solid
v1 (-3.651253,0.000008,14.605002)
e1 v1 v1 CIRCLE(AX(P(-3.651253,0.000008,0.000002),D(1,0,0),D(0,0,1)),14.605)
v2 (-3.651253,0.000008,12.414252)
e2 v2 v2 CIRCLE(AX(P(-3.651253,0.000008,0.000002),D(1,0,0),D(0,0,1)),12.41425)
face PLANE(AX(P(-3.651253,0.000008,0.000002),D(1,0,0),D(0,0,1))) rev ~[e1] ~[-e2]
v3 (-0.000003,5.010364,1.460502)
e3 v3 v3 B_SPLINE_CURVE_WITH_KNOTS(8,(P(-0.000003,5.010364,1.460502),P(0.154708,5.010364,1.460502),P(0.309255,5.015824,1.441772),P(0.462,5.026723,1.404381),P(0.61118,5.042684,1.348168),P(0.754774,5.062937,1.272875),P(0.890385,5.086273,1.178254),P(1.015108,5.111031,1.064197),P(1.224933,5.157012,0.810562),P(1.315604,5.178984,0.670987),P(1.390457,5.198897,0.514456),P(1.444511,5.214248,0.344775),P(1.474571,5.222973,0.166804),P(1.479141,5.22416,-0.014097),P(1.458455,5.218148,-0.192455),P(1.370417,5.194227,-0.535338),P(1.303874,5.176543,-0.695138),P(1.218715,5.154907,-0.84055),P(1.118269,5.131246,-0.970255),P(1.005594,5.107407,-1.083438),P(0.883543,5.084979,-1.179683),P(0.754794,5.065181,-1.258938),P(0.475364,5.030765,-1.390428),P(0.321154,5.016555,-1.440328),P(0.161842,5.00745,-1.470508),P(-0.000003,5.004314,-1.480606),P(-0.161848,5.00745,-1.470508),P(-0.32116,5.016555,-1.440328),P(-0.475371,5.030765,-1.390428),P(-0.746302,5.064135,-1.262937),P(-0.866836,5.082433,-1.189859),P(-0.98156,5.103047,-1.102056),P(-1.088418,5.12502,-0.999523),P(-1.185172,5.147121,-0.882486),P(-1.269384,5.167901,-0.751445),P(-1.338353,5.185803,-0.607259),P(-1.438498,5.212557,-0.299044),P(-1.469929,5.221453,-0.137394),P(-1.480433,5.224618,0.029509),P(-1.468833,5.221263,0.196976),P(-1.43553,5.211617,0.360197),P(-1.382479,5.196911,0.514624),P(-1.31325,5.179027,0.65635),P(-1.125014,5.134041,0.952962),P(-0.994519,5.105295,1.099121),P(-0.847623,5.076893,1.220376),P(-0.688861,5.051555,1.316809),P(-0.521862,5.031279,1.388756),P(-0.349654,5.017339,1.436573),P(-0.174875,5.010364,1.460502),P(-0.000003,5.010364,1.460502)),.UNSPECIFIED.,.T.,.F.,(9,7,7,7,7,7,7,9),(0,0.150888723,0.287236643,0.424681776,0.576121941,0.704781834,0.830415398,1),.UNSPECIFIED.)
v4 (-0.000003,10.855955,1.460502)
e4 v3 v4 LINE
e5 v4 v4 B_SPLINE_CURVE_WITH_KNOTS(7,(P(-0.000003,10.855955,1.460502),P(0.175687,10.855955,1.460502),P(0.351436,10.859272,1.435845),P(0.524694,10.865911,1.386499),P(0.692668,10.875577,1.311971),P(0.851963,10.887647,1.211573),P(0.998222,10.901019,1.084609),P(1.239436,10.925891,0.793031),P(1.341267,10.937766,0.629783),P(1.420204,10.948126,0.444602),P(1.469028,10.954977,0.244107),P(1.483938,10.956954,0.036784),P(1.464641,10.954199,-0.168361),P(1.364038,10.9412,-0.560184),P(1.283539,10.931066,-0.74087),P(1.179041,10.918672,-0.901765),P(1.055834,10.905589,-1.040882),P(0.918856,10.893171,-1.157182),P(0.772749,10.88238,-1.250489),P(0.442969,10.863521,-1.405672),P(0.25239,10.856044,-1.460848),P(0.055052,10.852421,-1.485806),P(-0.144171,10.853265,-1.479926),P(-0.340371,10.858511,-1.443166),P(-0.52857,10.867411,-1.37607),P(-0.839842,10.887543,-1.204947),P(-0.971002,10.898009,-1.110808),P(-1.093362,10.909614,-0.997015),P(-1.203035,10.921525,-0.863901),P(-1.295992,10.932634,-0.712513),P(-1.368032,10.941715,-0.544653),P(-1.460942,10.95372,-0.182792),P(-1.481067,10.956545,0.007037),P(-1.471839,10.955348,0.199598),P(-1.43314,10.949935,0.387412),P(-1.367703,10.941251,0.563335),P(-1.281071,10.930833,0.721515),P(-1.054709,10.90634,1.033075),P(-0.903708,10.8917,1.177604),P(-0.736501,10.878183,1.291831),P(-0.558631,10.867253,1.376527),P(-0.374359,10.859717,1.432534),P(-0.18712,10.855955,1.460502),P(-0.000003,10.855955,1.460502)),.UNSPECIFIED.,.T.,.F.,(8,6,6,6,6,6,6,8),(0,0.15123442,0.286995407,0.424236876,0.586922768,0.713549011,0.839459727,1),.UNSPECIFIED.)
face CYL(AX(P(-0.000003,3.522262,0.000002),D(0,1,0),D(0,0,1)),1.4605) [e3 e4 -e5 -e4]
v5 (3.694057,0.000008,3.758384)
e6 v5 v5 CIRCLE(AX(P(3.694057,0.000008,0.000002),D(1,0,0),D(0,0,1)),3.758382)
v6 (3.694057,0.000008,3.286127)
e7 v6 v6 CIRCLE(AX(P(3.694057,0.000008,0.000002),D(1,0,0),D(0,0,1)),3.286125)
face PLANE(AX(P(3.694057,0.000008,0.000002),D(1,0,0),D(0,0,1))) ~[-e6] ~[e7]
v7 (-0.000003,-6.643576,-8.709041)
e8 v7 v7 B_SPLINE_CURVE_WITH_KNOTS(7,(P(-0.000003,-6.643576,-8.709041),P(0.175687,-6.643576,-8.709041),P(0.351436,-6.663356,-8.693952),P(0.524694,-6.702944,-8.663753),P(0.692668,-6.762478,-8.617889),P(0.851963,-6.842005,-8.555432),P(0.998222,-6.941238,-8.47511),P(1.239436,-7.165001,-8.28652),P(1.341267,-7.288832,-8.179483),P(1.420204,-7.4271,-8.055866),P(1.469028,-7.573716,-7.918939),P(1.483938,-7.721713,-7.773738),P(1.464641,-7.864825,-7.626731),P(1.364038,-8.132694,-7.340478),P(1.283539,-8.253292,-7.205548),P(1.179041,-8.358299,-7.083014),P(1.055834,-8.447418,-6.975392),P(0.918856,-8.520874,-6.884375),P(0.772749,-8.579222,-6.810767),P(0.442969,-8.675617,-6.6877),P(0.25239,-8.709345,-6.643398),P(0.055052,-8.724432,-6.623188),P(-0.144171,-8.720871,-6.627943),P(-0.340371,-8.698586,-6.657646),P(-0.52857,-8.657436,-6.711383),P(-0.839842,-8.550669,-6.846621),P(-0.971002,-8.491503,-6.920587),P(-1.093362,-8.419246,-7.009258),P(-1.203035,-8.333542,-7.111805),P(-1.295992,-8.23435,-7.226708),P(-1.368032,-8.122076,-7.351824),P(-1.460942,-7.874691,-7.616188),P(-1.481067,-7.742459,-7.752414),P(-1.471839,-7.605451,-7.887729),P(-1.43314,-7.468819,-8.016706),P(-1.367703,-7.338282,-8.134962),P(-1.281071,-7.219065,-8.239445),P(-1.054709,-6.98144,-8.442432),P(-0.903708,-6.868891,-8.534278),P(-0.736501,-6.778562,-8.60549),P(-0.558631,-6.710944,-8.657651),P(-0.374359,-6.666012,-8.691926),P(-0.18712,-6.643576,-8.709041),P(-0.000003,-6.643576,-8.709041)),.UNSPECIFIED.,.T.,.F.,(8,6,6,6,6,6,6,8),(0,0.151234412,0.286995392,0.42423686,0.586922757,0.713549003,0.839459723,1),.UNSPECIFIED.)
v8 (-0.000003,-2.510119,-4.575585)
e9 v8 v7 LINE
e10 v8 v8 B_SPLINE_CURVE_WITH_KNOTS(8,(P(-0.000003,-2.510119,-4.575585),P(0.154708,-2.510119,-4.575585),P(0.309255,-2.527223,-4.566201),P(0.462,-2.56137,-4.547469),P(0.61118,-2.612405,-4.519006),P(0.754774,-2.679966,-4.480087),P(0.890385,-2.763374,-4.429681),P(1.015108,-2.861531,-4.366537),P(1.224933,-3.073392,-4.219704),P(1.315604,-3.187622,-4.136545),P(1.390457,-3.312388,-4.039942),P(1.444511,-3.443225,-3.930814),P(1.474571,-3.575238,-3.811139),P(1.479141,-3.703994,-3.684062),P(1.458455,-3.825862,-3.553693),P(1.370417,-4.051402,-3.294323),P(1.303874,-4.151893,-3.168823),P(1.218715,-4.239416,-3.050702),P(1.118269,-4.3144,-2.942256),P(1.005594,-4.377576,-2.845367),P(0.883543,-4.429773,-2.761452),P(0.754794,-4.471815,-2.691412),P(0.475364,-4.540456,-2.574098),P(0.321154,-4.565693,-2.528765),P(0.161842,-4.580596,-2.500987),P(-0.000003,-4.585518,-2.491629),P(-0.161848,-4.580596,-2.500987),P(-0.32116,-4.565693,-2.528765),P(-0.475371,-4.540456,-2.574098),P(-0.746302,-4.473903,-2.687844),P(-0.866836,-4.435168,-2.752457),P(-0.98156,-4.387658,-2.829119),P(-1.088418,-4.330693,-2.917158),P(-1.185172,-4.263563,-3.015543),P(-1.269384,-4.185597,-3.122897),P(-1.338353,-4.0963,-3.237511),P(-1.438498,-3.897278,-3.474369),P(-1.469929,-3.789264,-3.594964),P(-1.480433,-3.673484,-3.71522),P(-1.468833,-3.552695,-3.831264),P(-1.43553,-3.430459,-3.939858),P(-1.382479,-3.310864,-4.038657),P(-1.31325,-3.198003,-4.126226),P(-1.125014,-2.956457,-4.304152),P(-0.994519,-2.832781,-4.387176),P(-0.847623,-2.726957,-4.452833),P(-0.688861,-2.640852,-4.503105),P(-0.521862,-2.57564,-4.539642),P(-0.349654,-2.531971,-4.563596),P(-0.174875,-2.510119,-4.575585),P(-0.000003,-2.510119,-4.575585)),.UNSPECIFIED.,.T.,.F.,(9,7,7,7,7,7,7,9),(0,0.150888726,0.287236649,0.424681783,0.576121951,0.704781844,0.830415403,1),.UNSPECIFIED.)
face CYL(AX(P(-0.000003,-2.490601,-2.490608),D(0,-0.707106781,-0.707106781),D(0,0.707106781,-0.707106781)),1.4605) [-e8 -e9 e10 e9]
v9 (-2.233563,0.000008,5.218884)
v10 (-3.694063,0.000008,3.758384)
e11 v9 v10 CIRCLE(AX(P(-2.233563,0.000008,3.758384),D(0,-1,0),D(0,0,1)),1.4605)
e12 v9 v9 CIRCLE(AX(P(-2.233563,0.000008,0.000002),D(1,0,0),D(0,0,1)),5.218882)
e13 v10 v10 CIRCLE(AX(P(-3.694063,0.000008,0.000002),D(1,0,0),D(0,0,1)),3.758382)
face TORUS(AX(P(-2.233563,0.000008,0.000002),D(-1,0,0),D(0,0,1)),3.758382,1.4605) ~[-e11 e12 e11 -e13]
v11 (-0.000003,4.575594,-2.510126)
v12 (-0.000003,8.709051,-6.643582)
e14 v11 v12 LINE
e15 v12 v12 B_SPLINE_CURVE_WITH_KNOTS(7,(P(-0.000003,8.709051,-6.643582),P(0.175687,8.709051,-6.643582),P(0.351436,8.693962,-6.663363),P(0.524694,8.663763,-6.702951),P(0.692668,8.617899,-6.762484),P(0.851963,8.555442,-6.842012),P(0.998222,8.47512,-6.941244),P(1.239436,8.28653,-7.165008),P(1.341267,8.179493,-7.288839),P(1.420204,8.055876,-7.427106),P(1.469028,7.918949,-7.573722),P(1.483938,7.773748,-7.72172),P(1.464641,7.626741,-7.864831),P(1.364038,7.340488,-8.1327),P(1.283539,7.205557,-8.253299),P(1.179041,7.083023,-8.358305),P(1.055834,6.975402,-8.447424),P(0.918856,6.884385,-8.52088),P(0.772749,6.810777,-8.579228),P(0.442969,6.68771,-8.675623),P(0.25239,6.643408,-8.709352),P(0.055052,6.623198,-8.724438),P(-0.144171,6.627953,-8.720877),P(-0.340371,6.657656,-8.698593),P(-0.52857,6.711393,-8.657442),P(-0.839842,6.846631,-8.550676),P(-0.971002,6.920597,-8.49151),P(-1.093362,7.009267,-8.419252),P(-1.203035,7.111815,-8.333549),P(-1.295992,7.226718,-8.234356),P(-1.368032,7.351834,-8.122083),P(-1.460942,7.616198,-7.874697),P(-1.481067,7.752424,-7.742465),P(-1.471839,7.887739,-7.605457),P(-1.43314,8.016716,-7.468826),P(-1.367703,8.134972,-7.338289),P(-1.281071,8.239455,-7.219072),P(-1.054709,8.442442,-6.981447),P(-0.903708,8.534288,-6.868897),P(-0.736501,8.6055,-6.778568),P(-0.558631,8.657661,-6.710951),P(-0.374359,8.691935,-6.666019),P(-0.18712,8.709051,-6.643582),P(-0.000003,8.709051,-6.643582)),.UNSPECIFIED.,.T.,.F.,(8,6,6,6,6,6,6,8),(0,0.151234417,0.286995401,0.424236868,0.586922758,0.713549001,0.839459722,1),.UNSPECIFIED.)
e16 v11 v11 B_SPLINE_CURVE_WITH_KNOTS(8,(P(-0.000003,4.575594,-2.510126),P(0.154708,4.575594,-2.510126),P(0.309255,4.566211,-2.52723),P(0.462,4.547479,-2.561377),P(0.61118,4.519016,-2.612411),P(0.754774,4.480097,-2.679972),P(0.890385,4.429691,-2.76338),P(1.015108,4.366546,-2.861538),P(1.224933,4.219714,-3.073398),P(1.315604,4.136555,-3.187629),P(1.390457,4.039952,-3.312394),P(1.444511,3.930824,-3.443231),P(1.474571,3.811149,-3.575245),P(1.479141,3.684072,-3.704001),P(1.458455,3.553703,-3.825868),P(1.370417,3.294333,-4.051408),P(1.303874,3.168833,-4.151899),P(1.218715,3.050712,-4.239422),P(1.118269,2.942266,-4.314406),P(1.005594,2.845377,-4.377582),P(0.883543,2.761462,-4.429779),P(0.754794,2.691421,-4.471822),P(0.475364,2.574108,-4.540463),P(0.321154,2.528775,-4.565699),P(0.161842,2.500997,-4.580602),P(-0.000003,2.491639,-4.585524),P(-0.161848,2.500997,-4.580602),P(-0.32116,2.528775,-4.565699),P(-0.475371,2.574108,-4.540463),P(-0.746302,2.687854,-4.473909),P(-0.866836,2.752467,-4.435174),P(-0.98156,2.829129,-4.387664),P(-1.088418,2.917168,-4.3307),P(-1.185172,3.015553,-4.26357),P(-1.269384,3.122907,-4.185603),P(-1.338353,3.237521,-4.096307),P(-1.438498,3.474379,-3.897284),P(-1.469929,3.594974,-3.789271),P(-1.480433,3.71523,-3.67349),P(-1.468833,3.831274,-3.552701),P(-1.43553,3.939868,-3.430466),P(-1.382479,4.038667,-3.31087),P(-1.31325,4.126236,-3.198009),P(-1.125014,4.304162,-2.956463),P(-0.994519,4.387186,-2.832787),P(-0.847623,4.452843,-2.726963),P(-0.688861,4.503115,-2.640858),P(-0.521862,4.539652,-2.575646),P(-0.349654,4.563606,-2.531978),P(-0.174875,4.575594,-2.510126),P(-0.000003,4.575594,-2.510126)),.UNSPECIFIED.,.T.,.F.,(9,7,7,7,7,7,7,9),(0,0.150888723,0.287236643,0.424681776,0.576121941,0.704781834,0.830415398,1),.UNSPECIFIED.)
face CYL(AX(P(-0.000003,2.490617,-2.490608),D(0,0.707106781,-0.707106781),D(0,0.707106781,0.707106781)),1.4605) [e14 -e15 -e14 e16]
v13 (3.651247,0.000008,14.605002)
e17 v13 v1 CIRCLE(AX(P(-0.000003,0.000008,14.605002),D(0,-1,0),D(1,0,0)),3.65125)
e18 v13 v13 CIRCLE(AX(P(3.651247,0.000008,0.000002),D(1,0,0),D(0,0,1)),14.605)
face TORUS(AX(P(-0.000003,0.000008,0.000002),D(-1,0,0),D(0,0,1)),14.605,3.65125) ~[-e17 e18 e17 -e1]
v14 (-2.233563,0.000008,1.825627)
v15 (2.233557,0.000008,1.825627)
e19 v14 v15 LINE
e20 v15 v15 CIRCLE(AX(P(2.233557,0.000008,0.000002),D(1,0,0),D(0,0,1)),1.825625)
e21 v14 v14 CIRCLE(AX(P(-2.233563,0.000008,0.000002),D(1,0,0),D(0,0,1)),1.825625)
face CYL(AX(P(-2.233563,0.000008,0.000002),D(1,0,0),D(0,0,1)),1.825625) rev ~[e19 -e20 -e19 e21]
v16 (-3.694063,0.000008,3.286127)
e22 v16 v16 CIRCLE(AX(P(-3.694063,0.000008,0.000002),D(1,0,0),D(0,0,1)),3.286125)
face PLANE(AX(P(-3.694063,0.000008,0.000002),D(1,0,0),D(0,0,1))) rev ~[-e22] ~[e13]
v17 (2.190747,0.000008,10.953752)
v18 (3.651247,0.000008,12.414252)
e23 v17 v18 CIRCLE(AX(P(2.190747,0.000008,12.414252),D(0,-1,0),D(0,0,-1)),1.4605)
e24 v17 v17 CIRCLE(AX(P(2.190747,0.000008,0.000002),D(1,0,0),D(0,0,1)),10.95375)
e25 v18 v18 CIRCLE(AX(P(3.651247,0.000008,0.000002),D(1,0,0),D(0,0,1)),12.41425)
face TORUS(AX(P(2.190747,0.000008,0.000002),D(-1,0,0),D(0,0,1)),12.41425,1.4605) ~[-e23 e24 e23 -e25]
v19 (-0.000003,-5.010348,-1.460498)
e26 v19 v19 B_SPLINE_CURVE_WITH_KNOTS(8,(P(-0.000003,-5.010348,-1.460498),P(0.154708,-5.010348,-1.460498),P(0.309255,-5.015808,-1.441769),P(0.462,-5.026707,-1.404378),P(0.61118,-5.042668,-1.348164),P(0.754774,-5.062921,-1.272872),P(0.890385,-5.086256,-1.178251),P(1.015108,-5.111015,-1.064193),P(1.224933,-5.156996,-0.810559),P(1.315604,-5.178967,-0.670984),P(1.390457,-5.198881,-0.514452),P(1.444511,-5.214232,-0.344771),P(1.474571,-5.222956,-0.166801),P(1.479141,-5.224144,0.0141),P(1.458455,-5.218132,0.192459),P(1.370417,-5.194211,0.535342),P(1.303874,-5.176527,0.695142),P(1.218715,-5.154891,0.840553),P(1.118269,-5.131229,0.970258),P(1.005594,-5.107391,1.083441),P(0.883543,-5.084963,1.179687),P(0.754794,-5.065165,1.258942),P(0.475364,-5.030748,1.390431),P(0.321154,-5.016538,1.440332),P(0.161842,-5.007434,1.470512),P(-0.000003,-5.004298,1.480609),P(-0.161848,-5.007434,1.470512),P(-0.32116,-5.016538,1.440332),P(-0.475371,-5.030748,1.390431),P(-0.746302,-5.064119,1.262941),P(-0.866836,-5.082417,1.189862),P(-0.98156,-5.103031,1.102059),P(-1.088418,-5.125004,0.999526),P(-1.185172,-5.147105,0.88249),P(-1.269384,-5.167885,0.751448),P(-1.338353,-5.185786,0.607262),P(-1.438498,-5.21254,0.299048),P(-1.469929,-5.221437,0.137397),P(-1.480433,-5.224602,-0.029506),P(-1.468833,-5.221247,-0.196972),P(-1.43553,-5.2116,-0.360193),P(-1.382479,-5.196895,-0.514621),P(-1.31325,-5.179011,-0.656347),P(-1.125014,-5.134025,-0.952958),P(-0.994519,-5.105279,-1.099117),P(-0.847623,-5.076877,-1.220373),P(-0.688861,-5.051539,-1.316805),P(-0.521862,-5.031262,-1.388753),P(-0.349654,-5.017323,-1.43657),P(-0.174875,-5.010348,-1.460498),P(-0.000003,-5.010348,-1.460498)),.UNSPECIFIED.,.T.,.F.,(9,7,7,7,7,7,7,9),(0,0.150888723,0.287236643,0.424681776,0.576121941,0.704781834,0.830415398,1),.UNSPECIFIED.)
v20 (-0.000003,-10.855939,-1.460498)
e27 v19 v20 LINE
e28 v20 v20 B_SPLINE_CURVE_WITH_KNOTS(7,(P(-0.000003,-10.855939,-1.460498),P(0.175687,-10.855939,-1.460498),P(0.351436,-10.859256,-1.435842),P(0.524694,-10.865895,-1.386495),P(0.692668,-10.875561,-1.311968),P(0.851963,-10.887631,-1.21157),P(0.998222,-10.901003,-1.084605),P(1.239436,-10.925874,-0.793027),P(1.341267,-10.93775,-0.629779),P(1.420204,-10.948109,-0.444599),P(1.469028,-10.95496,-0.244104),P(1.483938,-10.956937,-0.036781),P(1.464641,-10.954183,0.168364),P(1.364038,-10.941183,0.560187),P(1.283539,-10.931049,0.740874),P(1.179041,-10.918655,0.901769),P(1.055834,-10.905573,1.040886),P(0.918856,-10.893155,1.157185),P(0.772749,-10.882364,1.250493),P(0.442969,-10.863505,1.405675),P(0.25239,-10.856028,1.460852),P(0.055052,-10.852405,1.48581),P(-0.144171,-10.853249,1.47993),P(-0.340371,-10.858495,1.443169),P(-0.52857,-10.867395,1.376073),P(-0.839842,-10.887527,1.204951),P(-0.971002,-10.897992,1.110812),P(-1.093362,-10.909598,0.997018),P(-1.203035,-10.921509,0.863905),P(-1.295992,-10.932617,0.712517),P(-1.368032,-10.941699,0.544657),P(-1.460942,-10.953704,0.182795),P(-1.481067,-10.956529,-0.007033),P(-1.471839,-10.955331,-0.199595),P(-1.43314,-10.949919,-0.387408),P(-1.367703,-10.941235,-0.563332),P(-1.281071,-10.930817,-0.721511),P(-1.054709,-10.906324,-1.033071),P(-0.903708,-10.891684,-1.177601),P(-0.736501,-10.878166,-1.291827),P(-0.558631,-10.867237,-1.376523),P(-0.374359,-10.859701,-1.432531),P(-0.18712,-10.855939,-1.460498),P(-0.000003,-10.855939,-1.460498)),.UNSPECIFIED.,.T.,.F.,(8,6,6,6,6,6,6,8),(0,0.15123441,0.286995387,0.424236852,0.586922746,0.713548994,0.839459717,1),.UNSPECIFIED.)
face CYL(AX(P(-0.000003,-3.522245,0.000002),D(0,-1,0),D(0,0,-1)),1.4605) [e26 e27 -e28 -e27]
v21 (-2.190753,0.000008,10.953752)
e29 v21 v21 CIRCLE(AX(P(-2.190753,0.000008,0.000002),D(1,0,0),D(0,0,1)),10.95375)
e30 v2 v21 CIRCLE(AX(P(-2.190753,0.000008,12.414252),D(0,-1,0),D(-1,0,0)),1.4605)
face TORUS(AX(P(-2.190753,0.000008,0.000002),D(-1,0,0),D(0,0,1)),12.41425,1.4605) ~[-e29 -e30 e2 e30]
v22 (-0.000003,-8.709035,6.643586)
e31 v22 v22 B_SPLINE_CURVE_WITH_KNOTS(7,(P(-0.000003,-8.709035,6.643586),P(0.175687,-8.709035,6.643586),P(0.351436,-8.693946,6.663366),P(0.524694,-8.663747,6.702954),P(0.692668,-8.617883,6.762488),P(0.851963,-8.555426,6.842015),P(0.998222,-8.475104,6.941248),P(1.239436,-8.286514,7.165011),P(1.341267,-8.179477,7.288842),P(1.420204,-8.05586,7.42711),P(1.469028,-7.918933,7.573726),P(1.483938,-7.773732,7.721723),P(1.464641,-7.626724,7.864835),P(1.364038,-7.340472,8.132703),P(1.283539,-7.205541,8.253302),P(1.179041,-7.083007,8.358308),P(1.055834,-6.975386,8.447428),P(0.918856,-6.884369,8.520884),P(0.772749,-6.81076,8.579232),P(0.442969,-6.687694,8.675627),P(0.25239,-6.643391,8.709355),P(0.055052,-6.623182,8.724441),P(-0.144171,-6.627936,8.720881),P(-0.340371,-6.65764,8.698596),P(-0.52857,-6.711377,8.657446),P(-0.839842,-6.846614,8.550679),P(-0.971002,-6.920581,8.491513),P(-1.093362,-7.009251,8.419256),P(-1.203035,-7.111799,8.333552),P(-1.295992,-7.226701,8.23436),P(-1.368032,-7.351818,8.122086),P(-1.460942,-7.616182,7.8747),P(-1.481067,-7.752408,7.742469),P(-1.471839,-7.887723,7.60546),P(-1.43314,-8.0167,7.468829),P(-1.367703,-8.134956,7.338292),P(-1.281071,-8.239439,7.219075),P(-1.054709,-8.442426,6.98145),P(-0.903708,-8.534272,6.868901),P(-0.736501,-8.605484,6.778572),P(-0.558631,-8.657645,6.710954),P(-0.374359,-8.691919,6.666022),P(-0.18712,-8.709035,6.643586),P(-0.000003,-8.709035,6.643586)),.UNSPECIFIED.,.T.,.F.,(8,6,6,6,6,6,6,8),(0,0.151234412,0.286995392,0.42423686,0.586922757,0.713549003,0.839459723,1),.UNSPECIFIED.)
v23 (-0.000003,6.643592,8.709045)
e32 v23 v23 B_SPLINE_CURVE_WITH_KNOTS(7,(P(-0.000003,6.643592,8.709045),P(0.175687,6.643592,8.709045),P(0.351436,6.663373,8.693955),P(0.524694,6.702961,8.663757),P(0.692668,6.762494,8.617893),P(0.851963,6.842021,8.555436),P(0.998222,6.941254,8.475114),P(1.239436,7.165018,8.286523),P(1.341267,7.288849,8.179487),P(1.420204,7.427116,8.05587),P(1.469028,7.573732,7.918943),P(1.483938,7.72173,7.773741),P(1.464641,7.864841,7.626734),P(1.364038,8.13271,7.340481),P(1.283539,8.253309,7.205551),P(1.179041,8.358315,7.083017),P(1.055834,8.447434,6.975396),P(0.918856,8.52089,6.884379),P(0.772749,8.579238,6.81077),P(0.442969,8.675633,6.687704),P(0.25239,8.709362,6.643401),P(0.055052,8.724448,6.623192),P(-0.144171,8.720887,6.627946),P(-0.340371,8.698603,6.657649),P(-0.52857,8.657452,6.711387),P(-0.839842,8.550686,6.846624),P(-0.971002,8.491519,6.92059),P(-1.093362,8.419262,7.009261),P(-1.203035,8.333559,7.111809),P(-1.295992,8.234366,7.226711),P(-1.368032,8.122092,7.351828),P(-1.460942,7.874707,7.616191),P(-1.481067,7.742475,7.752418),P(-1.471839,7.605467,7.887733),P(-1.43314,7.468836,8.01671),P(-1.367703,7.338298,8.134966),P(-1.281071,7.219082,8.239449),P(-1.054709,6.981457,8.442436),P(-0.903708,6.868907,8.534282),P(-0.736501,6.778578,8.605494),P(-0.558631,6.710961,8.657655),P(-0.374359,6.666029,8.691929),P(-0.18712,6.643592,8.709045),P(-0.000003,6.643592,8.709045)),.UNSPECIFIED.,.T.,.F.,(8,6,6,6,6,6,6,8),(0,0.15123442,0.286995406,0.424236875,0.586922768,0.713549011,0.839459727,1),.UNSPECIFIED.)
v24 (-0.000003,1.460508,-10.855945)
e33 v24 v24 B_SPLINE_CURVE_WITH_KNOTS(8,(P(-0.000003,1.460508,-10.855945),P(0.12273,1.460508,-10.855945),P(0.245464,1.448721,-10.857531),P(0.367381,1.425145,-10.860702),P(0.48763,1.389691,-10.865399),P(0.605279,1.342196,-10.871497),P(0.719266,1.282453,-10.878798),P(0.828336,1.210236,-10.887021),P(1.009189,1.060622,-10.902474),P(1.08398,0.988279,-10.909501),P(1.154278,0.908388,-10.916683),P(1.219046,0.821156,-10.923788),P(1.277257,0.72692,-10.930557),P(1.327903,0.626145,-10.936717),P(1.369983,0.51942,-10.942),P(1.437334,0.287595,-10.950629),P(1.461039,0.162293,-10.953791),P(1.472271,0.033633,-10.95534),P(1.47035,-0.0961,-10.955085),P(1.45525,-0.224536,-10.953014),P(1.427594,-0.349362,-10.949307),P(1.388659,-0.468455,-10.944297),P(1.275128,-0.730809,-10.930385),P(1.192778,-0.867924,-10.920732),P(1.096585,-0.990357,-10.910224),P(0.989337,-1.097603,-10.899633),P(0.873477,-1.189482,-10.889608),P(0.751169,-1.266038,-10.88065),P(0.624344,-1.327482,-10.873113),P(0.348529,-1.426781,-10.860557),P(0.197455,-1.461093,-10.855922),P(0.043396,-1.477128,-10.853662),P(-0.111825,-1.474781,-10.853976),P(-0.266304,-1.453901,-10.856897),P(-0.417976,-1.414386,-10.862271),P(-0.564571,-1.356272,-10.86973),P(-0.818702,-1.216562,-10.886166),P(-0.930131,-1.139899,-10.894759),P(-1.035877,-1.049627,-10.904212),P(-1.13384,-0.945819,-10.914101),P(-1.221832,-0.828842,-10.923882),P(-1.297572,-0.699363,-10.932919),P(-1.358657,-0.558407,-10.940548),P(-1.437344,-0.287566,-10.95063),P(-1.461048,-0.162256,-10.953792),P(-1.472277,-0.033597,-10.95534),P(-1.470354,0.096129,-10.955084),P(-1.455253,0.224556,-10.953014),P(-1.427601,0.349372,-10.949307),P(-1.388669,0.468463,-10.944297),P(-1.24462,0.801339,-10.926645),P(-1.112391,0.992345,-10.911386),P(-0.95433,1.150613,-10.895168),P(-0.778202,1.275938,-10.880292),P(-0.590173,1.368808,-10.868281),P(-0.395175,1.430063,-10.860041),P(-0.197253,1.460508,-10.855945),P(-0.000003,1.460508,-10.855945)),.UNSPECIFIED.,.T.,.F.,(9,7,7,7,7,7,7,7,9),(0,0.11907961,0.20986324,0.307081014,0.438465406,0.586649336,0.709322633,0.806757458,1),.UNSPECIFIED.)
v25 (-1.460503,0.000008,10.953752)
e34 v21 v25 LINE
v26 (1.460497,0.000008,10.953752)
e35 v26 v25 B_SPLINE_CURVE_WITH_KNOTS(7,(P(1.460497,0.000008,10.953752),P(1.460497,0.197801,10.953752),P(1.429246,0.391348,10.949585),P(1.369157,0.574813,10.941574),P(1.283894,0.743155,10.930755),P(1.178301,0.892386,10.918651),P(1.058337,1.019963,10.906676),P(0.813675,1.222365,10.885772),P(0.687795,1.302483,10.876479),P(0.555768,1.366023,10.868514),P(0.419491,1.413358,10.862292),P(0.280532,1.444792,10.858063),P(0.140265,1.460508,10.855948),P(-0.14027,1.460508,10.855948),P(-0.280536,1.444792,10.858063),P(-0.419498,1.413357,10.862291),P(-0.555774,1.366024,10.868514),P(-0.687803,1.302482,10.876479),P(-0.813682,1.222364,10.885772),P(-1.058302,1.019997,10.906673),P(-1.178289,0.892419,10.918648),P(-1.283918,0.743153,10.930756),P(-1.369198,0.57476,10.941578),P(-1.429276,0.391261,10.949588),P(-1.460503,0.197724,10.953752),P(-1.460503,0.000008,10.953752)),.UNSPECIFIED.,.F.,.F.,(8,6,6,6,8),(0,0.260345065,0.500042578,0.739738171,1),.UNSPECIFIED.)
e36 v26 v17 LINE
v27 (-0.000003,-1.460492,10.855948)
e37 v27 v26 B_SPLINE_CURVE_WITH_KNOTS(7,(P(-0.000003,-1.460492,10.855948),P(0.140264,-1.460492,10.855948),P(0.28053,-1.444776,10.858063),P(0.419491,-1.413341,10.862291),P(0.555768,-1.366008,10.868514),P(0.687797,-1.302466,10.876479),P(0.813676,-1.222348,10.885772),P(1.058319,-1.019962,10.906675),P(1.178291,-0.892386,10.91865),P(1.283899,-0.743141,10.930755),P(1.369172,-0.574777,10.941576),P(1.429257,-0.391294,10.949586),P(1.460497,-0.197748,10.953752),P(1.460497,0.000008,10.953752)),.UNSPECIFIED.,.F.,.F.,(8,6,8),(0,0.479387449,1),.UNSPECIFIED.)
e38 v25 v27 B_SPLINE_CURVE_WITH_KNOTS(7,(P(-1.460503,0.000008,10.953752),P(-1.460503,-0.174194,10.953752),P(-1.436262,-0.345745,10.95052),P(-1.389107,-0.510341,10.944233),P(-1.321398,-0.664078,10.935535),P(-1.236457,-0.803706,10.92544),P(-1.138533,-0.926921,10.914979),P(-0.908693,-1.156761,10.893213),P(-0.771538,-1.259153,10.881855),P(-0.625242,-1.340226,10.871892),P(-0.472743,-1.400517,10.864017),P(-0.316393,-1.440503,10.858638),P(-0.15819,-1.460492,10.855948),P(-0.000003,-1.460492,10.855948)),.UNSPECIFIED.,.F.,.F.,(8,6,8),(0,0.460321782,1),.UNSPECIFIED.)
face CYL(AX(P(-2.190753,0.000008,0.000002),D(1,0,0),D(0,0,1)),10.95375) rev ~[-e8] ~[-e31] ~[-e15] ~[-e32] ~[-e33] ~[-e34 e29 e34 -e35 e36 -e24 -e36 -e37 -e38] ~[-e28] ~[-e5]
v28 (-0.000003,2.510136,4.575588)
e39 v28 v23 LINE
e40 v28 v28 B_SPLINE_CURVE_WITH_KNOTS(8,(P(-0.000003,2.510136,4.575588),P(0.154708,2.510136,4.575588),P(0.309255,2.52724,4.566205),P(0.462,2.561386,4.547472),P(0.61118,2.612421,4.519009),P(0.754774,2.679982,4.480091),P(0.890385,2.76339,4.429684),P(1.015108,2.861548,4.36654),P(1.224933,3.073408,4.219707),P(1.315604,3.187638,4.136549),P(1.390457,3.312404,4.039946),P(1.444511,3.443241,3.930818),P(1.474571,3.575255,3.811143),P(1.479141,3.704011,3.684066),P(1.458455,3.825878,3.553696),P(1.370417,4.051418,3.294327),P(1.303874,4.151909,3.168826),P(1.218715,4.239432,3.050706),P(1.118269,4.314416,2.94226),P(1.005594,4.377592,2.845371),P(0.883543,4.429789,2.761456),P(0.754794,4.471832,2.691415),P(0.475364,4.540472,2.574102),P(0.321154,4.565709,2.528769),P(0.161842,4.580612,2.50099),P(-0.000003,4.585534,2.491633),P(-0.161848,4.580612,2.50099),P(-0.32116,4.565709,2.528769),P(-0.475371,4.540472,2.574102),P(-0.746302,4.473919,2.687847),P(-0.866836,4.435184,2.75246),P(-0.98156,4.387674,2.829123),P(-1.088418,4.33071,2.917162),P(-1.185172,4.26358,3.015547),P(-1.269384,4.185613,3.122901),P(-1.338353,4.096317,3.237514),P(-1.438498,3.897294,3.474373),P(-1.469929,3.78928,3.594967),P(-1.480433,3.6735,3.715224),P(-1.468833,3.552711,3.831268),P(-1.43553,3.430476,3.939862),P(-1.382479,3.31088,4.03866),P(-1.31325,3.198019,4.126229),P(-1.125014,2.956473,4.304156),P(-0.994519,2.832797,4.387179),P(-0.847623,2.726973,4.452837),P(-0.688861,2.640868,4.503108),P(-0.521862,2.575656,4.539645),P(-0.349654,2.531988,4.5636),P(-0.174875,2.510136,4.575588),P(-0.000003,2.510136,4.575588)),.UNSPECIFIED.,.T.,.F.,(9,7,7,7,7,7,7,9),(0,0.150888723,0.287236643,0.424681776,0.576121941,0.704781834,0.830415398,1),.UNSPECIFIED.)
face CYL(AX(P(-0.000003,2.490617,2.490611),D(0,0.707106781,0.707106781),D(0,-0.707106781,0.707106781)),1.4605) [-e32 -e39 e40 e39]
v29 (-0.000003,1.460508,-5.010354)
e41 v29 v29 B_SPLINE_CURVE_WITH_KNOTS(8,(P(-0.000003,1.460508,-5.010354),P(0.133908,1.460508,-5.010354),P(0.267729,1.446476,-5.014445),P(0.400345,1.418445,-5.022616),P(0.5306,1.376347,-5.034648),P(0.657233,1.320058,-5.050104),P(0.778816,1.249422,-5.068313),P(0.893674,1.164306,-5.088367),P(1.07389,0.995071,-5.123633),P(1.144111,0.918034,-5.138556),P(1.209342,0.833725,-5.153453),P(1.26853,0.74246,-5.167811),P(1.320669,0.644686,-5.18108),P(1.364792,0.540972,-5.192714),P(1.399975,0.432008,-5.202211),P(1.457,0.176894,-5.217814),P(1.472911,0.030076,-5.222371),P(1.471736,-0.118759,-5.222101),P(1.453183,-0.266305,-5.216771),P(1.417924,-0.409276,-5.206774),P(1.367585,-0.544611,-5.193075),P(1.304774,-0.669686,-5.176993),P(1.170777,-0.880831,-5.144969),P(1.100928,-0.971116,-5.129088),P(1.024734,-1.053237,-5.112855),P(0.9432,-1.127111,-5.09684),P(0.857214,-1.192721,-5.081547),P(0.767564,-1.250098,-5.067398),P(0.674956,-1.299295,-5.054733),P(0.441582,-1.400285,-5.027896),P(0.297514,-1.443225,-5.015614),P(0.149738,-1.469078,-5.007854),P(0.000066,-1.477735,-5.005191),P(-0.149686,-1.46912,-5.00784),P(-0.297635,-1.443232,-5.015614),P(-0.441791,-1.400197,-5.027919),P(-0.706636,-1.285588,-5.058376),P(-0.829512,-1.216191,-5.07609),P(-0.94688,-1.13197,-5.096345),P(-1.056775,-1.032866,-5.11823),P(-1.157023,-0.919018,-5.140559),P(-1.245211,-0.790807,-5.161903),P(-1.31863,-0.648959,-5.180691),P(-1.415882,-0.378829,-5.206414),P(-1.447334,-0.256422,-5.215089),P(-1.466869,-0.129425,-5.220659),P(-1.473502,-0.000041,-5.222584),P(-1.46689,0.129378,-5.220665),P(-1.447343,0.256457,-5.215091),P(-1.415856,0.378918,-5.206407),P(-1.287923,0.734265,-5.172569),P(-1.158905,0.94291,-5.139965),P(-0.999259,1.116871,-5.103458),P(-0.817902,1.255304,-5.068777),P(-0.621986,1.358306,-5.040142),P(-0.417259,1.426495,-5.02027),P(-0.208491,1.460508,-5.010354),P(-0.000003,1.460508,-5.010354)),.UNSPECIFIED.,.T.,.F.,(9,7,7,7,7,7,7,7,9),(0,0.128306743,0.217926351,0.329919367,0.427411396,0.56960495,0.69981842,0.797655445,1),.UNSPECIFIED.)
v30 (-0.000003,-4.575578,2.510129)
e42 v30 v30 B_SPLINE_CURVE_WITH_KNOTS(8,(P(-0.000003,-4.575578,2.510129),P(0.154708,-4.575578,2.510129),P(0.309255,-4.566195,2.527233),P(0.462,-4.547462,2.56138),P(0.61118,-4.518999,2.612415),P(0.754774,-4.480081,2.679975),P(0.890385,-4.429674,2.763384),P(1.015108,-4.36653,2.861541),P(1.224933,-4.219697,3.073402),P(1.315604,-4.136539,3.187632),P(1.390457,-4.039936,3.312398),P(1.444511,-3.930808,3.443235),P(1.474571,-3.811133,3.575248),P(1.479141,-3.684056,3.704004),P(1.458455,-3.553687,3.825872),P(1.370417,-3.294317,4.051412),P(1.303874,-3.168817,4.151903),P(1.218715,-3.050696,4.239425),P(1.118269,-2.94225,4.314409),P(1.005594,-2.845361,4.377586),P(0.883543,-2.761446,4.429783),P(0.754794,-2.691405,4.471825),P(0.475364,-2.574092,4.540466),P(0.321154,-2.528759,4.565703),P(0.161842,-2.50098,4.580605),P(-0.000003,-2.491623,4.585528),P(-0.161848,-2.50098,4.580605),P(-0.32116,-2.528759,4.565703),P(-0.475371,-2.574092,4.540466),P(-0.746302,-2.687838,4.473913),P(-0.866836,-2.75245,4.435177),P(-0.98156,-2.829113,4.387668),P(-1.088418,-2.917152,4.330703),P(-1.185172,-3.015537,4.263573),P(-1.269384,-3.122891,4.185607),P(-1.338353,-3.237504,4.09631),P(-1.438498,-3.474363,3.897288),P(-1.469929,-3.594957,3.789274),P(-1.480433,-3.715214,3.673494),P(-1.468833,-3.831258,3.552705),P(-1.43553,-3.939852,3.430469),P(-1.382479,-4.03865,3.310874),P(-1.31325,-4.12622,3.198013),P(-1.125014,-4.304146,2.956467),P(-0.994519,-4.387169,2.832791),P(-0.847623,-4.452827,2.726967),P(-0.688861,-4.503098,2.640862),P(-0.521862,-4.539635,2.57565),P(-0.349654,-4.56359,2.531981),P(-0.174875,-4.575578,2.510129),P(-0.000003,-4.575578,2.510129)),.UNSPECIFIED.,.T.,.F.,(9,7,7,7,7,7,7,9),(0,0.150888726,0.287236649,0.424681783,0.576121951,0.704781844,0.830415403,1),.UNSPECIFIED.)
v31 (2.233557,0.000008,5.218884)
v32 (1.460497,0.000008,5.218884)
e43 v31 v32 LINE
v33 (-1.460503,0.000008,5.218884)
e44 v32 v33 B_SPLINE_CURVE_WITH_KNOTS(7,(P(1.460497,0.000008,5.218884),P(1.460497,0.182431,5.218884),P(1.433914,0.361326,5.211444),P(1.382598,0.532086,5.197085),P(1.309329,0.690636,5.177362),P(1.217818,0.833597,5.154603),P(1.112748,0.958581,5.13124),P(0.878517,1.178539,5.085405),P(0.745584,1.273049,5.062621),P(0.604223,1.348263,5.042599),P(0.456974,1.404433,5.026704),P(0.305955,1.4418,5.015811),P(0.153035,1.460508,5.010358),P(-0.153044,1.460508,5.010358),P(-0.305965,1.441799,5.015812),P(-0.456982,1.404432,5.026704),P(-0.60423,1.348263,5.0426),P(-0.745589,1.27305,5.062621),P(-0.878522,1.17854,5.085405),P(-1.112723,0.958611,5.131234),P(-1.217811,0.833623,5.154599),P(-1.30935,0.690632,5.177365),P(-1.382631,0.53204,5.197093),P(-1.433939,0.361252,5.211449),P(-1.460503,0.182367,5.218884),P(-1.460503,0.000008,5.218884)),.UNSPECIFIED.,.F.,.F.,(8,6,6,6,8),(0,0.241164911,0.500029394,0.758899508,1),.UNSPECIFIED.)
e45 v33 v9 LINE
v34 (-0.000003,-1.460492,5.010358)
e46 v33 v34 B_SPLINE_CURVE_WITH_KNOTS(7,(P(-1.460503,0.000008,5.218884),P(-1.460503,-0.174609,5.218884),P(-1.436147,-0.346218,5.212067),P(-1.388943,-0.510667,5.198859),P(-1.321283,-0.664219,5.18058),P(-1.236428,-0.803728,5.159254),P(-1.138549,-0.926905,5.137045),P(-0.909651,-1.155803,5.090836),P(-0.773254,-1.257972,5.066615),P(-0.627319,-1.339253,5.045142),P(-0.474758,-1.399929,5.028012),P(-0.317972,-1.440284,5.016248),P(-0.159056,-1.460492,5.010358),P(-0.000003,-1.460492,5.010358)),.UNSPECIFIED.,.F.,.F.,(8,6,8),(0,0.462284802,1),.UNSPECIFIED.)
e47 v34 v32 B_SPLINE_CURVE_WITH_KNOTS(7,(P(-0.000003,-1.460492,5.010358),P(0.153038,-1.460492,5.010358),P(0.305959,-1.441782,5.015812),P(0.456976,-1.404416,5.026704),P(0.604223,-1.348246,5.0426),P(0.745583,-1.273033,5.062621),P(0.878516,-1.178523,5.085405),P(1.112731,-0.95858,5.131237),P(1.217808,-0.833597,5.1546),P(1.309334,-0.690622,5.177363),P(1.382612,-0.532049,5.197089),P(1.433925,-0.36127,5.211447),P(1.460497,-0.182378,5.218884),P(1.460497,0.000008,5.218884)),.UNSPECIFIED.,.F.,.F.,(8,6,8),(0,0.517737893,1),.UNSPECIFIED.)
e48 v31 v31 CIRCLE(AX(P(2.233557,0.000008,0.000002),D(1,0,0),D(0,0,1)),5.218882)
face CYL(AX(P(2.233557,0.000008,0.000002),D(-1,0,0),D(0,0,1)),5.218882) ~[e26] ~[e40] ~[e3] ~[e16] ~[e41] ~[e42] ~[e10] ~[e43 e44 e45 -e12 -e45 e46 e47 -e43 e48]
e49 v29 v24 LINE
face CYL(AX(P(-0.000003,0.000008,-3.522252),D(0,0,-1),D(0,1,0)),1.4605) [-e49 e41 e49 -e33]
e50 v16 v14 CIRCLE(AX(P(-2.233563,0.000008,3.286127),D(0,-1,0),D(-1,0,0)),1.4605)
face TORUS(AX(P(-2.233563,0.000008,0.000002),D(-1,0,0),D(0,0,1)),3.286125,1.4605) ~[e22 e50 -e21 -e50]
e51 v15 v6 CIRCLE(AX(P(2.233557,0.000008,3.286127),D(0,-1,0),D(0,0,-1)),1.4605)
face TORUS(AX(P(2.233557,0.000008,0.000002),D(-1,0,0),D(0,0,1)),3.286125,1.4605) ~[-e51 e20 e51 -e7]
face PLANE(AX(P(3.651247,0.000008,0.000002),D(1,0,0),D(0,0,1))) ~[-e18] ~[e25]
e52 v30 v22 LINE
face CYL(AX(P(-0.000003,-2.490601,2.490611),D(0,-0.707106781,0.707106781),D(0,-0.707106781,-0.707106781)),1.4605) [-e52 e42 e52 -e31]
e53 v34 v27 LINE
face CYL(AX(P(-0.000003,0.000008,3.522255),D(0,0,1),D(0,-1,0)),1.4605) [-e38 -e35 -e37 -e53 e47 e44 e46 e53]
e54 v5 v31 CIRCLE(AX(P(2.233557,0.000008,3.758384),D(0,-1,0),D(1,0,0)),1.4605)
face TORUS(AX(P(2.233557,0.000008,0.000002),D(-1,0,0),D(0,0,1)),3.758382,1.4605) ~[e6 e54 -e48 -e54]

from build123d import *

# Parameters (mm, degrees)
SWEEP1_PROFILE_R  = 1.27
CIRPATTERN1_COUNT = 8
SCALE_2_SCALE     = 1.15


with BuildPart() as part:
    # Sketch3 → Revolve1 (revolve)
    with BuildSketch(Plane.XY, mode=Mode.PRIVATE) as revolve1_sk:
        with BuildLine():
            Line((-1.942226168, 1.5875), (1.942226168, 1.5875))
            ThreePointArc((1.942226168, 1.5875), (2.84025178, 1.959474388), (3.212226168, 2.8575))
            Line((3.212226168, 2.8575), (3.212226168, 3.268158252))
            ThreePointArc((3.212226168, 3.268158252), (2.84025178, 4.166183864), (1.942226168, 4.538158252))
            Line((1.942226168, 4.538158252), (-1.942226168, 4.538158252))
            ThreePointArc((-1.942226168, 4.538158252), (-2.84025178, 4.166183864), (-3.212226168, 3.268158252))
            Line((-3.212226168, 3.268158252), (-3.212226168, 2.8575))
            ThreePointArc((-3.212226168, 2.8575), (-2.84025178, 1.959474388), (-1.942226168, 1.5875))
        make_face()
        with BuildLine():
            Line((-3.175, 12.7), (-3.175, 10.795))
            ThreePointArc((-3.175, 10.795), (-2.803025612, 9.896974388), (-1.905, 9.525))
            Line((-1.905, 9.525), (1.905, 9.525))
            ThreePointArc((1.905, 9.525), (2.803025612, 9.896974388), (3.175, 10.795))
            Line((3.175, 10.795), (3.175, 12.7))
            ThreePointArc((3.175, 12.7), (0, 15.875), (-3.175, 12.7))
        make_face()
    revolve(revolve1_sk.sketch.rotate(Axis((-11.977214198, 0, 0), (1, 0, 0)), 90), axis=Axis((-11.977214198, 0, 0), (1, 0, 0)))

    # Sweep1: sweep along a path in Sketch5
    with BuildLine(Plane(origin=(0, 0, 0), x_dir=(0, 0, -1), z_dir=(1, 0, 0))) as sweep1_path:
        Line((0, 3.062829126), (0, 12.7))
    # Sweep1 profile (on start of the path) → Sweep1 (sweep)
    with BuildSketch(Plane.ZX.offset(3.062829126)):
        Circle(SWEEP1_PROFILE_R)
    sweep1 = sweep(path=sweep1_path.line)

    # CirPattern1: Sweep1 ×8 about axis
    cirpattern1_axis = Axis((-11.977214198, 0, 0), (1, 0, 0))
    for i in range(1, CIRPATTERN1_COUNT):
        add(sweep1.rotate(cirpattern1_axis, i * 360 / CIRPATTERN1_COUNT))


with BuildPart() as part_1:
    # Scale 2: scaled about (2.0691e-05, -5.4388e-05, -1.1572e-05)
    add(part.part.scale(SCALE_2_SCALE).moved(Location((-3.104e-06, 8.158e-06, 1.736e-06))))


solid = part_1.part
